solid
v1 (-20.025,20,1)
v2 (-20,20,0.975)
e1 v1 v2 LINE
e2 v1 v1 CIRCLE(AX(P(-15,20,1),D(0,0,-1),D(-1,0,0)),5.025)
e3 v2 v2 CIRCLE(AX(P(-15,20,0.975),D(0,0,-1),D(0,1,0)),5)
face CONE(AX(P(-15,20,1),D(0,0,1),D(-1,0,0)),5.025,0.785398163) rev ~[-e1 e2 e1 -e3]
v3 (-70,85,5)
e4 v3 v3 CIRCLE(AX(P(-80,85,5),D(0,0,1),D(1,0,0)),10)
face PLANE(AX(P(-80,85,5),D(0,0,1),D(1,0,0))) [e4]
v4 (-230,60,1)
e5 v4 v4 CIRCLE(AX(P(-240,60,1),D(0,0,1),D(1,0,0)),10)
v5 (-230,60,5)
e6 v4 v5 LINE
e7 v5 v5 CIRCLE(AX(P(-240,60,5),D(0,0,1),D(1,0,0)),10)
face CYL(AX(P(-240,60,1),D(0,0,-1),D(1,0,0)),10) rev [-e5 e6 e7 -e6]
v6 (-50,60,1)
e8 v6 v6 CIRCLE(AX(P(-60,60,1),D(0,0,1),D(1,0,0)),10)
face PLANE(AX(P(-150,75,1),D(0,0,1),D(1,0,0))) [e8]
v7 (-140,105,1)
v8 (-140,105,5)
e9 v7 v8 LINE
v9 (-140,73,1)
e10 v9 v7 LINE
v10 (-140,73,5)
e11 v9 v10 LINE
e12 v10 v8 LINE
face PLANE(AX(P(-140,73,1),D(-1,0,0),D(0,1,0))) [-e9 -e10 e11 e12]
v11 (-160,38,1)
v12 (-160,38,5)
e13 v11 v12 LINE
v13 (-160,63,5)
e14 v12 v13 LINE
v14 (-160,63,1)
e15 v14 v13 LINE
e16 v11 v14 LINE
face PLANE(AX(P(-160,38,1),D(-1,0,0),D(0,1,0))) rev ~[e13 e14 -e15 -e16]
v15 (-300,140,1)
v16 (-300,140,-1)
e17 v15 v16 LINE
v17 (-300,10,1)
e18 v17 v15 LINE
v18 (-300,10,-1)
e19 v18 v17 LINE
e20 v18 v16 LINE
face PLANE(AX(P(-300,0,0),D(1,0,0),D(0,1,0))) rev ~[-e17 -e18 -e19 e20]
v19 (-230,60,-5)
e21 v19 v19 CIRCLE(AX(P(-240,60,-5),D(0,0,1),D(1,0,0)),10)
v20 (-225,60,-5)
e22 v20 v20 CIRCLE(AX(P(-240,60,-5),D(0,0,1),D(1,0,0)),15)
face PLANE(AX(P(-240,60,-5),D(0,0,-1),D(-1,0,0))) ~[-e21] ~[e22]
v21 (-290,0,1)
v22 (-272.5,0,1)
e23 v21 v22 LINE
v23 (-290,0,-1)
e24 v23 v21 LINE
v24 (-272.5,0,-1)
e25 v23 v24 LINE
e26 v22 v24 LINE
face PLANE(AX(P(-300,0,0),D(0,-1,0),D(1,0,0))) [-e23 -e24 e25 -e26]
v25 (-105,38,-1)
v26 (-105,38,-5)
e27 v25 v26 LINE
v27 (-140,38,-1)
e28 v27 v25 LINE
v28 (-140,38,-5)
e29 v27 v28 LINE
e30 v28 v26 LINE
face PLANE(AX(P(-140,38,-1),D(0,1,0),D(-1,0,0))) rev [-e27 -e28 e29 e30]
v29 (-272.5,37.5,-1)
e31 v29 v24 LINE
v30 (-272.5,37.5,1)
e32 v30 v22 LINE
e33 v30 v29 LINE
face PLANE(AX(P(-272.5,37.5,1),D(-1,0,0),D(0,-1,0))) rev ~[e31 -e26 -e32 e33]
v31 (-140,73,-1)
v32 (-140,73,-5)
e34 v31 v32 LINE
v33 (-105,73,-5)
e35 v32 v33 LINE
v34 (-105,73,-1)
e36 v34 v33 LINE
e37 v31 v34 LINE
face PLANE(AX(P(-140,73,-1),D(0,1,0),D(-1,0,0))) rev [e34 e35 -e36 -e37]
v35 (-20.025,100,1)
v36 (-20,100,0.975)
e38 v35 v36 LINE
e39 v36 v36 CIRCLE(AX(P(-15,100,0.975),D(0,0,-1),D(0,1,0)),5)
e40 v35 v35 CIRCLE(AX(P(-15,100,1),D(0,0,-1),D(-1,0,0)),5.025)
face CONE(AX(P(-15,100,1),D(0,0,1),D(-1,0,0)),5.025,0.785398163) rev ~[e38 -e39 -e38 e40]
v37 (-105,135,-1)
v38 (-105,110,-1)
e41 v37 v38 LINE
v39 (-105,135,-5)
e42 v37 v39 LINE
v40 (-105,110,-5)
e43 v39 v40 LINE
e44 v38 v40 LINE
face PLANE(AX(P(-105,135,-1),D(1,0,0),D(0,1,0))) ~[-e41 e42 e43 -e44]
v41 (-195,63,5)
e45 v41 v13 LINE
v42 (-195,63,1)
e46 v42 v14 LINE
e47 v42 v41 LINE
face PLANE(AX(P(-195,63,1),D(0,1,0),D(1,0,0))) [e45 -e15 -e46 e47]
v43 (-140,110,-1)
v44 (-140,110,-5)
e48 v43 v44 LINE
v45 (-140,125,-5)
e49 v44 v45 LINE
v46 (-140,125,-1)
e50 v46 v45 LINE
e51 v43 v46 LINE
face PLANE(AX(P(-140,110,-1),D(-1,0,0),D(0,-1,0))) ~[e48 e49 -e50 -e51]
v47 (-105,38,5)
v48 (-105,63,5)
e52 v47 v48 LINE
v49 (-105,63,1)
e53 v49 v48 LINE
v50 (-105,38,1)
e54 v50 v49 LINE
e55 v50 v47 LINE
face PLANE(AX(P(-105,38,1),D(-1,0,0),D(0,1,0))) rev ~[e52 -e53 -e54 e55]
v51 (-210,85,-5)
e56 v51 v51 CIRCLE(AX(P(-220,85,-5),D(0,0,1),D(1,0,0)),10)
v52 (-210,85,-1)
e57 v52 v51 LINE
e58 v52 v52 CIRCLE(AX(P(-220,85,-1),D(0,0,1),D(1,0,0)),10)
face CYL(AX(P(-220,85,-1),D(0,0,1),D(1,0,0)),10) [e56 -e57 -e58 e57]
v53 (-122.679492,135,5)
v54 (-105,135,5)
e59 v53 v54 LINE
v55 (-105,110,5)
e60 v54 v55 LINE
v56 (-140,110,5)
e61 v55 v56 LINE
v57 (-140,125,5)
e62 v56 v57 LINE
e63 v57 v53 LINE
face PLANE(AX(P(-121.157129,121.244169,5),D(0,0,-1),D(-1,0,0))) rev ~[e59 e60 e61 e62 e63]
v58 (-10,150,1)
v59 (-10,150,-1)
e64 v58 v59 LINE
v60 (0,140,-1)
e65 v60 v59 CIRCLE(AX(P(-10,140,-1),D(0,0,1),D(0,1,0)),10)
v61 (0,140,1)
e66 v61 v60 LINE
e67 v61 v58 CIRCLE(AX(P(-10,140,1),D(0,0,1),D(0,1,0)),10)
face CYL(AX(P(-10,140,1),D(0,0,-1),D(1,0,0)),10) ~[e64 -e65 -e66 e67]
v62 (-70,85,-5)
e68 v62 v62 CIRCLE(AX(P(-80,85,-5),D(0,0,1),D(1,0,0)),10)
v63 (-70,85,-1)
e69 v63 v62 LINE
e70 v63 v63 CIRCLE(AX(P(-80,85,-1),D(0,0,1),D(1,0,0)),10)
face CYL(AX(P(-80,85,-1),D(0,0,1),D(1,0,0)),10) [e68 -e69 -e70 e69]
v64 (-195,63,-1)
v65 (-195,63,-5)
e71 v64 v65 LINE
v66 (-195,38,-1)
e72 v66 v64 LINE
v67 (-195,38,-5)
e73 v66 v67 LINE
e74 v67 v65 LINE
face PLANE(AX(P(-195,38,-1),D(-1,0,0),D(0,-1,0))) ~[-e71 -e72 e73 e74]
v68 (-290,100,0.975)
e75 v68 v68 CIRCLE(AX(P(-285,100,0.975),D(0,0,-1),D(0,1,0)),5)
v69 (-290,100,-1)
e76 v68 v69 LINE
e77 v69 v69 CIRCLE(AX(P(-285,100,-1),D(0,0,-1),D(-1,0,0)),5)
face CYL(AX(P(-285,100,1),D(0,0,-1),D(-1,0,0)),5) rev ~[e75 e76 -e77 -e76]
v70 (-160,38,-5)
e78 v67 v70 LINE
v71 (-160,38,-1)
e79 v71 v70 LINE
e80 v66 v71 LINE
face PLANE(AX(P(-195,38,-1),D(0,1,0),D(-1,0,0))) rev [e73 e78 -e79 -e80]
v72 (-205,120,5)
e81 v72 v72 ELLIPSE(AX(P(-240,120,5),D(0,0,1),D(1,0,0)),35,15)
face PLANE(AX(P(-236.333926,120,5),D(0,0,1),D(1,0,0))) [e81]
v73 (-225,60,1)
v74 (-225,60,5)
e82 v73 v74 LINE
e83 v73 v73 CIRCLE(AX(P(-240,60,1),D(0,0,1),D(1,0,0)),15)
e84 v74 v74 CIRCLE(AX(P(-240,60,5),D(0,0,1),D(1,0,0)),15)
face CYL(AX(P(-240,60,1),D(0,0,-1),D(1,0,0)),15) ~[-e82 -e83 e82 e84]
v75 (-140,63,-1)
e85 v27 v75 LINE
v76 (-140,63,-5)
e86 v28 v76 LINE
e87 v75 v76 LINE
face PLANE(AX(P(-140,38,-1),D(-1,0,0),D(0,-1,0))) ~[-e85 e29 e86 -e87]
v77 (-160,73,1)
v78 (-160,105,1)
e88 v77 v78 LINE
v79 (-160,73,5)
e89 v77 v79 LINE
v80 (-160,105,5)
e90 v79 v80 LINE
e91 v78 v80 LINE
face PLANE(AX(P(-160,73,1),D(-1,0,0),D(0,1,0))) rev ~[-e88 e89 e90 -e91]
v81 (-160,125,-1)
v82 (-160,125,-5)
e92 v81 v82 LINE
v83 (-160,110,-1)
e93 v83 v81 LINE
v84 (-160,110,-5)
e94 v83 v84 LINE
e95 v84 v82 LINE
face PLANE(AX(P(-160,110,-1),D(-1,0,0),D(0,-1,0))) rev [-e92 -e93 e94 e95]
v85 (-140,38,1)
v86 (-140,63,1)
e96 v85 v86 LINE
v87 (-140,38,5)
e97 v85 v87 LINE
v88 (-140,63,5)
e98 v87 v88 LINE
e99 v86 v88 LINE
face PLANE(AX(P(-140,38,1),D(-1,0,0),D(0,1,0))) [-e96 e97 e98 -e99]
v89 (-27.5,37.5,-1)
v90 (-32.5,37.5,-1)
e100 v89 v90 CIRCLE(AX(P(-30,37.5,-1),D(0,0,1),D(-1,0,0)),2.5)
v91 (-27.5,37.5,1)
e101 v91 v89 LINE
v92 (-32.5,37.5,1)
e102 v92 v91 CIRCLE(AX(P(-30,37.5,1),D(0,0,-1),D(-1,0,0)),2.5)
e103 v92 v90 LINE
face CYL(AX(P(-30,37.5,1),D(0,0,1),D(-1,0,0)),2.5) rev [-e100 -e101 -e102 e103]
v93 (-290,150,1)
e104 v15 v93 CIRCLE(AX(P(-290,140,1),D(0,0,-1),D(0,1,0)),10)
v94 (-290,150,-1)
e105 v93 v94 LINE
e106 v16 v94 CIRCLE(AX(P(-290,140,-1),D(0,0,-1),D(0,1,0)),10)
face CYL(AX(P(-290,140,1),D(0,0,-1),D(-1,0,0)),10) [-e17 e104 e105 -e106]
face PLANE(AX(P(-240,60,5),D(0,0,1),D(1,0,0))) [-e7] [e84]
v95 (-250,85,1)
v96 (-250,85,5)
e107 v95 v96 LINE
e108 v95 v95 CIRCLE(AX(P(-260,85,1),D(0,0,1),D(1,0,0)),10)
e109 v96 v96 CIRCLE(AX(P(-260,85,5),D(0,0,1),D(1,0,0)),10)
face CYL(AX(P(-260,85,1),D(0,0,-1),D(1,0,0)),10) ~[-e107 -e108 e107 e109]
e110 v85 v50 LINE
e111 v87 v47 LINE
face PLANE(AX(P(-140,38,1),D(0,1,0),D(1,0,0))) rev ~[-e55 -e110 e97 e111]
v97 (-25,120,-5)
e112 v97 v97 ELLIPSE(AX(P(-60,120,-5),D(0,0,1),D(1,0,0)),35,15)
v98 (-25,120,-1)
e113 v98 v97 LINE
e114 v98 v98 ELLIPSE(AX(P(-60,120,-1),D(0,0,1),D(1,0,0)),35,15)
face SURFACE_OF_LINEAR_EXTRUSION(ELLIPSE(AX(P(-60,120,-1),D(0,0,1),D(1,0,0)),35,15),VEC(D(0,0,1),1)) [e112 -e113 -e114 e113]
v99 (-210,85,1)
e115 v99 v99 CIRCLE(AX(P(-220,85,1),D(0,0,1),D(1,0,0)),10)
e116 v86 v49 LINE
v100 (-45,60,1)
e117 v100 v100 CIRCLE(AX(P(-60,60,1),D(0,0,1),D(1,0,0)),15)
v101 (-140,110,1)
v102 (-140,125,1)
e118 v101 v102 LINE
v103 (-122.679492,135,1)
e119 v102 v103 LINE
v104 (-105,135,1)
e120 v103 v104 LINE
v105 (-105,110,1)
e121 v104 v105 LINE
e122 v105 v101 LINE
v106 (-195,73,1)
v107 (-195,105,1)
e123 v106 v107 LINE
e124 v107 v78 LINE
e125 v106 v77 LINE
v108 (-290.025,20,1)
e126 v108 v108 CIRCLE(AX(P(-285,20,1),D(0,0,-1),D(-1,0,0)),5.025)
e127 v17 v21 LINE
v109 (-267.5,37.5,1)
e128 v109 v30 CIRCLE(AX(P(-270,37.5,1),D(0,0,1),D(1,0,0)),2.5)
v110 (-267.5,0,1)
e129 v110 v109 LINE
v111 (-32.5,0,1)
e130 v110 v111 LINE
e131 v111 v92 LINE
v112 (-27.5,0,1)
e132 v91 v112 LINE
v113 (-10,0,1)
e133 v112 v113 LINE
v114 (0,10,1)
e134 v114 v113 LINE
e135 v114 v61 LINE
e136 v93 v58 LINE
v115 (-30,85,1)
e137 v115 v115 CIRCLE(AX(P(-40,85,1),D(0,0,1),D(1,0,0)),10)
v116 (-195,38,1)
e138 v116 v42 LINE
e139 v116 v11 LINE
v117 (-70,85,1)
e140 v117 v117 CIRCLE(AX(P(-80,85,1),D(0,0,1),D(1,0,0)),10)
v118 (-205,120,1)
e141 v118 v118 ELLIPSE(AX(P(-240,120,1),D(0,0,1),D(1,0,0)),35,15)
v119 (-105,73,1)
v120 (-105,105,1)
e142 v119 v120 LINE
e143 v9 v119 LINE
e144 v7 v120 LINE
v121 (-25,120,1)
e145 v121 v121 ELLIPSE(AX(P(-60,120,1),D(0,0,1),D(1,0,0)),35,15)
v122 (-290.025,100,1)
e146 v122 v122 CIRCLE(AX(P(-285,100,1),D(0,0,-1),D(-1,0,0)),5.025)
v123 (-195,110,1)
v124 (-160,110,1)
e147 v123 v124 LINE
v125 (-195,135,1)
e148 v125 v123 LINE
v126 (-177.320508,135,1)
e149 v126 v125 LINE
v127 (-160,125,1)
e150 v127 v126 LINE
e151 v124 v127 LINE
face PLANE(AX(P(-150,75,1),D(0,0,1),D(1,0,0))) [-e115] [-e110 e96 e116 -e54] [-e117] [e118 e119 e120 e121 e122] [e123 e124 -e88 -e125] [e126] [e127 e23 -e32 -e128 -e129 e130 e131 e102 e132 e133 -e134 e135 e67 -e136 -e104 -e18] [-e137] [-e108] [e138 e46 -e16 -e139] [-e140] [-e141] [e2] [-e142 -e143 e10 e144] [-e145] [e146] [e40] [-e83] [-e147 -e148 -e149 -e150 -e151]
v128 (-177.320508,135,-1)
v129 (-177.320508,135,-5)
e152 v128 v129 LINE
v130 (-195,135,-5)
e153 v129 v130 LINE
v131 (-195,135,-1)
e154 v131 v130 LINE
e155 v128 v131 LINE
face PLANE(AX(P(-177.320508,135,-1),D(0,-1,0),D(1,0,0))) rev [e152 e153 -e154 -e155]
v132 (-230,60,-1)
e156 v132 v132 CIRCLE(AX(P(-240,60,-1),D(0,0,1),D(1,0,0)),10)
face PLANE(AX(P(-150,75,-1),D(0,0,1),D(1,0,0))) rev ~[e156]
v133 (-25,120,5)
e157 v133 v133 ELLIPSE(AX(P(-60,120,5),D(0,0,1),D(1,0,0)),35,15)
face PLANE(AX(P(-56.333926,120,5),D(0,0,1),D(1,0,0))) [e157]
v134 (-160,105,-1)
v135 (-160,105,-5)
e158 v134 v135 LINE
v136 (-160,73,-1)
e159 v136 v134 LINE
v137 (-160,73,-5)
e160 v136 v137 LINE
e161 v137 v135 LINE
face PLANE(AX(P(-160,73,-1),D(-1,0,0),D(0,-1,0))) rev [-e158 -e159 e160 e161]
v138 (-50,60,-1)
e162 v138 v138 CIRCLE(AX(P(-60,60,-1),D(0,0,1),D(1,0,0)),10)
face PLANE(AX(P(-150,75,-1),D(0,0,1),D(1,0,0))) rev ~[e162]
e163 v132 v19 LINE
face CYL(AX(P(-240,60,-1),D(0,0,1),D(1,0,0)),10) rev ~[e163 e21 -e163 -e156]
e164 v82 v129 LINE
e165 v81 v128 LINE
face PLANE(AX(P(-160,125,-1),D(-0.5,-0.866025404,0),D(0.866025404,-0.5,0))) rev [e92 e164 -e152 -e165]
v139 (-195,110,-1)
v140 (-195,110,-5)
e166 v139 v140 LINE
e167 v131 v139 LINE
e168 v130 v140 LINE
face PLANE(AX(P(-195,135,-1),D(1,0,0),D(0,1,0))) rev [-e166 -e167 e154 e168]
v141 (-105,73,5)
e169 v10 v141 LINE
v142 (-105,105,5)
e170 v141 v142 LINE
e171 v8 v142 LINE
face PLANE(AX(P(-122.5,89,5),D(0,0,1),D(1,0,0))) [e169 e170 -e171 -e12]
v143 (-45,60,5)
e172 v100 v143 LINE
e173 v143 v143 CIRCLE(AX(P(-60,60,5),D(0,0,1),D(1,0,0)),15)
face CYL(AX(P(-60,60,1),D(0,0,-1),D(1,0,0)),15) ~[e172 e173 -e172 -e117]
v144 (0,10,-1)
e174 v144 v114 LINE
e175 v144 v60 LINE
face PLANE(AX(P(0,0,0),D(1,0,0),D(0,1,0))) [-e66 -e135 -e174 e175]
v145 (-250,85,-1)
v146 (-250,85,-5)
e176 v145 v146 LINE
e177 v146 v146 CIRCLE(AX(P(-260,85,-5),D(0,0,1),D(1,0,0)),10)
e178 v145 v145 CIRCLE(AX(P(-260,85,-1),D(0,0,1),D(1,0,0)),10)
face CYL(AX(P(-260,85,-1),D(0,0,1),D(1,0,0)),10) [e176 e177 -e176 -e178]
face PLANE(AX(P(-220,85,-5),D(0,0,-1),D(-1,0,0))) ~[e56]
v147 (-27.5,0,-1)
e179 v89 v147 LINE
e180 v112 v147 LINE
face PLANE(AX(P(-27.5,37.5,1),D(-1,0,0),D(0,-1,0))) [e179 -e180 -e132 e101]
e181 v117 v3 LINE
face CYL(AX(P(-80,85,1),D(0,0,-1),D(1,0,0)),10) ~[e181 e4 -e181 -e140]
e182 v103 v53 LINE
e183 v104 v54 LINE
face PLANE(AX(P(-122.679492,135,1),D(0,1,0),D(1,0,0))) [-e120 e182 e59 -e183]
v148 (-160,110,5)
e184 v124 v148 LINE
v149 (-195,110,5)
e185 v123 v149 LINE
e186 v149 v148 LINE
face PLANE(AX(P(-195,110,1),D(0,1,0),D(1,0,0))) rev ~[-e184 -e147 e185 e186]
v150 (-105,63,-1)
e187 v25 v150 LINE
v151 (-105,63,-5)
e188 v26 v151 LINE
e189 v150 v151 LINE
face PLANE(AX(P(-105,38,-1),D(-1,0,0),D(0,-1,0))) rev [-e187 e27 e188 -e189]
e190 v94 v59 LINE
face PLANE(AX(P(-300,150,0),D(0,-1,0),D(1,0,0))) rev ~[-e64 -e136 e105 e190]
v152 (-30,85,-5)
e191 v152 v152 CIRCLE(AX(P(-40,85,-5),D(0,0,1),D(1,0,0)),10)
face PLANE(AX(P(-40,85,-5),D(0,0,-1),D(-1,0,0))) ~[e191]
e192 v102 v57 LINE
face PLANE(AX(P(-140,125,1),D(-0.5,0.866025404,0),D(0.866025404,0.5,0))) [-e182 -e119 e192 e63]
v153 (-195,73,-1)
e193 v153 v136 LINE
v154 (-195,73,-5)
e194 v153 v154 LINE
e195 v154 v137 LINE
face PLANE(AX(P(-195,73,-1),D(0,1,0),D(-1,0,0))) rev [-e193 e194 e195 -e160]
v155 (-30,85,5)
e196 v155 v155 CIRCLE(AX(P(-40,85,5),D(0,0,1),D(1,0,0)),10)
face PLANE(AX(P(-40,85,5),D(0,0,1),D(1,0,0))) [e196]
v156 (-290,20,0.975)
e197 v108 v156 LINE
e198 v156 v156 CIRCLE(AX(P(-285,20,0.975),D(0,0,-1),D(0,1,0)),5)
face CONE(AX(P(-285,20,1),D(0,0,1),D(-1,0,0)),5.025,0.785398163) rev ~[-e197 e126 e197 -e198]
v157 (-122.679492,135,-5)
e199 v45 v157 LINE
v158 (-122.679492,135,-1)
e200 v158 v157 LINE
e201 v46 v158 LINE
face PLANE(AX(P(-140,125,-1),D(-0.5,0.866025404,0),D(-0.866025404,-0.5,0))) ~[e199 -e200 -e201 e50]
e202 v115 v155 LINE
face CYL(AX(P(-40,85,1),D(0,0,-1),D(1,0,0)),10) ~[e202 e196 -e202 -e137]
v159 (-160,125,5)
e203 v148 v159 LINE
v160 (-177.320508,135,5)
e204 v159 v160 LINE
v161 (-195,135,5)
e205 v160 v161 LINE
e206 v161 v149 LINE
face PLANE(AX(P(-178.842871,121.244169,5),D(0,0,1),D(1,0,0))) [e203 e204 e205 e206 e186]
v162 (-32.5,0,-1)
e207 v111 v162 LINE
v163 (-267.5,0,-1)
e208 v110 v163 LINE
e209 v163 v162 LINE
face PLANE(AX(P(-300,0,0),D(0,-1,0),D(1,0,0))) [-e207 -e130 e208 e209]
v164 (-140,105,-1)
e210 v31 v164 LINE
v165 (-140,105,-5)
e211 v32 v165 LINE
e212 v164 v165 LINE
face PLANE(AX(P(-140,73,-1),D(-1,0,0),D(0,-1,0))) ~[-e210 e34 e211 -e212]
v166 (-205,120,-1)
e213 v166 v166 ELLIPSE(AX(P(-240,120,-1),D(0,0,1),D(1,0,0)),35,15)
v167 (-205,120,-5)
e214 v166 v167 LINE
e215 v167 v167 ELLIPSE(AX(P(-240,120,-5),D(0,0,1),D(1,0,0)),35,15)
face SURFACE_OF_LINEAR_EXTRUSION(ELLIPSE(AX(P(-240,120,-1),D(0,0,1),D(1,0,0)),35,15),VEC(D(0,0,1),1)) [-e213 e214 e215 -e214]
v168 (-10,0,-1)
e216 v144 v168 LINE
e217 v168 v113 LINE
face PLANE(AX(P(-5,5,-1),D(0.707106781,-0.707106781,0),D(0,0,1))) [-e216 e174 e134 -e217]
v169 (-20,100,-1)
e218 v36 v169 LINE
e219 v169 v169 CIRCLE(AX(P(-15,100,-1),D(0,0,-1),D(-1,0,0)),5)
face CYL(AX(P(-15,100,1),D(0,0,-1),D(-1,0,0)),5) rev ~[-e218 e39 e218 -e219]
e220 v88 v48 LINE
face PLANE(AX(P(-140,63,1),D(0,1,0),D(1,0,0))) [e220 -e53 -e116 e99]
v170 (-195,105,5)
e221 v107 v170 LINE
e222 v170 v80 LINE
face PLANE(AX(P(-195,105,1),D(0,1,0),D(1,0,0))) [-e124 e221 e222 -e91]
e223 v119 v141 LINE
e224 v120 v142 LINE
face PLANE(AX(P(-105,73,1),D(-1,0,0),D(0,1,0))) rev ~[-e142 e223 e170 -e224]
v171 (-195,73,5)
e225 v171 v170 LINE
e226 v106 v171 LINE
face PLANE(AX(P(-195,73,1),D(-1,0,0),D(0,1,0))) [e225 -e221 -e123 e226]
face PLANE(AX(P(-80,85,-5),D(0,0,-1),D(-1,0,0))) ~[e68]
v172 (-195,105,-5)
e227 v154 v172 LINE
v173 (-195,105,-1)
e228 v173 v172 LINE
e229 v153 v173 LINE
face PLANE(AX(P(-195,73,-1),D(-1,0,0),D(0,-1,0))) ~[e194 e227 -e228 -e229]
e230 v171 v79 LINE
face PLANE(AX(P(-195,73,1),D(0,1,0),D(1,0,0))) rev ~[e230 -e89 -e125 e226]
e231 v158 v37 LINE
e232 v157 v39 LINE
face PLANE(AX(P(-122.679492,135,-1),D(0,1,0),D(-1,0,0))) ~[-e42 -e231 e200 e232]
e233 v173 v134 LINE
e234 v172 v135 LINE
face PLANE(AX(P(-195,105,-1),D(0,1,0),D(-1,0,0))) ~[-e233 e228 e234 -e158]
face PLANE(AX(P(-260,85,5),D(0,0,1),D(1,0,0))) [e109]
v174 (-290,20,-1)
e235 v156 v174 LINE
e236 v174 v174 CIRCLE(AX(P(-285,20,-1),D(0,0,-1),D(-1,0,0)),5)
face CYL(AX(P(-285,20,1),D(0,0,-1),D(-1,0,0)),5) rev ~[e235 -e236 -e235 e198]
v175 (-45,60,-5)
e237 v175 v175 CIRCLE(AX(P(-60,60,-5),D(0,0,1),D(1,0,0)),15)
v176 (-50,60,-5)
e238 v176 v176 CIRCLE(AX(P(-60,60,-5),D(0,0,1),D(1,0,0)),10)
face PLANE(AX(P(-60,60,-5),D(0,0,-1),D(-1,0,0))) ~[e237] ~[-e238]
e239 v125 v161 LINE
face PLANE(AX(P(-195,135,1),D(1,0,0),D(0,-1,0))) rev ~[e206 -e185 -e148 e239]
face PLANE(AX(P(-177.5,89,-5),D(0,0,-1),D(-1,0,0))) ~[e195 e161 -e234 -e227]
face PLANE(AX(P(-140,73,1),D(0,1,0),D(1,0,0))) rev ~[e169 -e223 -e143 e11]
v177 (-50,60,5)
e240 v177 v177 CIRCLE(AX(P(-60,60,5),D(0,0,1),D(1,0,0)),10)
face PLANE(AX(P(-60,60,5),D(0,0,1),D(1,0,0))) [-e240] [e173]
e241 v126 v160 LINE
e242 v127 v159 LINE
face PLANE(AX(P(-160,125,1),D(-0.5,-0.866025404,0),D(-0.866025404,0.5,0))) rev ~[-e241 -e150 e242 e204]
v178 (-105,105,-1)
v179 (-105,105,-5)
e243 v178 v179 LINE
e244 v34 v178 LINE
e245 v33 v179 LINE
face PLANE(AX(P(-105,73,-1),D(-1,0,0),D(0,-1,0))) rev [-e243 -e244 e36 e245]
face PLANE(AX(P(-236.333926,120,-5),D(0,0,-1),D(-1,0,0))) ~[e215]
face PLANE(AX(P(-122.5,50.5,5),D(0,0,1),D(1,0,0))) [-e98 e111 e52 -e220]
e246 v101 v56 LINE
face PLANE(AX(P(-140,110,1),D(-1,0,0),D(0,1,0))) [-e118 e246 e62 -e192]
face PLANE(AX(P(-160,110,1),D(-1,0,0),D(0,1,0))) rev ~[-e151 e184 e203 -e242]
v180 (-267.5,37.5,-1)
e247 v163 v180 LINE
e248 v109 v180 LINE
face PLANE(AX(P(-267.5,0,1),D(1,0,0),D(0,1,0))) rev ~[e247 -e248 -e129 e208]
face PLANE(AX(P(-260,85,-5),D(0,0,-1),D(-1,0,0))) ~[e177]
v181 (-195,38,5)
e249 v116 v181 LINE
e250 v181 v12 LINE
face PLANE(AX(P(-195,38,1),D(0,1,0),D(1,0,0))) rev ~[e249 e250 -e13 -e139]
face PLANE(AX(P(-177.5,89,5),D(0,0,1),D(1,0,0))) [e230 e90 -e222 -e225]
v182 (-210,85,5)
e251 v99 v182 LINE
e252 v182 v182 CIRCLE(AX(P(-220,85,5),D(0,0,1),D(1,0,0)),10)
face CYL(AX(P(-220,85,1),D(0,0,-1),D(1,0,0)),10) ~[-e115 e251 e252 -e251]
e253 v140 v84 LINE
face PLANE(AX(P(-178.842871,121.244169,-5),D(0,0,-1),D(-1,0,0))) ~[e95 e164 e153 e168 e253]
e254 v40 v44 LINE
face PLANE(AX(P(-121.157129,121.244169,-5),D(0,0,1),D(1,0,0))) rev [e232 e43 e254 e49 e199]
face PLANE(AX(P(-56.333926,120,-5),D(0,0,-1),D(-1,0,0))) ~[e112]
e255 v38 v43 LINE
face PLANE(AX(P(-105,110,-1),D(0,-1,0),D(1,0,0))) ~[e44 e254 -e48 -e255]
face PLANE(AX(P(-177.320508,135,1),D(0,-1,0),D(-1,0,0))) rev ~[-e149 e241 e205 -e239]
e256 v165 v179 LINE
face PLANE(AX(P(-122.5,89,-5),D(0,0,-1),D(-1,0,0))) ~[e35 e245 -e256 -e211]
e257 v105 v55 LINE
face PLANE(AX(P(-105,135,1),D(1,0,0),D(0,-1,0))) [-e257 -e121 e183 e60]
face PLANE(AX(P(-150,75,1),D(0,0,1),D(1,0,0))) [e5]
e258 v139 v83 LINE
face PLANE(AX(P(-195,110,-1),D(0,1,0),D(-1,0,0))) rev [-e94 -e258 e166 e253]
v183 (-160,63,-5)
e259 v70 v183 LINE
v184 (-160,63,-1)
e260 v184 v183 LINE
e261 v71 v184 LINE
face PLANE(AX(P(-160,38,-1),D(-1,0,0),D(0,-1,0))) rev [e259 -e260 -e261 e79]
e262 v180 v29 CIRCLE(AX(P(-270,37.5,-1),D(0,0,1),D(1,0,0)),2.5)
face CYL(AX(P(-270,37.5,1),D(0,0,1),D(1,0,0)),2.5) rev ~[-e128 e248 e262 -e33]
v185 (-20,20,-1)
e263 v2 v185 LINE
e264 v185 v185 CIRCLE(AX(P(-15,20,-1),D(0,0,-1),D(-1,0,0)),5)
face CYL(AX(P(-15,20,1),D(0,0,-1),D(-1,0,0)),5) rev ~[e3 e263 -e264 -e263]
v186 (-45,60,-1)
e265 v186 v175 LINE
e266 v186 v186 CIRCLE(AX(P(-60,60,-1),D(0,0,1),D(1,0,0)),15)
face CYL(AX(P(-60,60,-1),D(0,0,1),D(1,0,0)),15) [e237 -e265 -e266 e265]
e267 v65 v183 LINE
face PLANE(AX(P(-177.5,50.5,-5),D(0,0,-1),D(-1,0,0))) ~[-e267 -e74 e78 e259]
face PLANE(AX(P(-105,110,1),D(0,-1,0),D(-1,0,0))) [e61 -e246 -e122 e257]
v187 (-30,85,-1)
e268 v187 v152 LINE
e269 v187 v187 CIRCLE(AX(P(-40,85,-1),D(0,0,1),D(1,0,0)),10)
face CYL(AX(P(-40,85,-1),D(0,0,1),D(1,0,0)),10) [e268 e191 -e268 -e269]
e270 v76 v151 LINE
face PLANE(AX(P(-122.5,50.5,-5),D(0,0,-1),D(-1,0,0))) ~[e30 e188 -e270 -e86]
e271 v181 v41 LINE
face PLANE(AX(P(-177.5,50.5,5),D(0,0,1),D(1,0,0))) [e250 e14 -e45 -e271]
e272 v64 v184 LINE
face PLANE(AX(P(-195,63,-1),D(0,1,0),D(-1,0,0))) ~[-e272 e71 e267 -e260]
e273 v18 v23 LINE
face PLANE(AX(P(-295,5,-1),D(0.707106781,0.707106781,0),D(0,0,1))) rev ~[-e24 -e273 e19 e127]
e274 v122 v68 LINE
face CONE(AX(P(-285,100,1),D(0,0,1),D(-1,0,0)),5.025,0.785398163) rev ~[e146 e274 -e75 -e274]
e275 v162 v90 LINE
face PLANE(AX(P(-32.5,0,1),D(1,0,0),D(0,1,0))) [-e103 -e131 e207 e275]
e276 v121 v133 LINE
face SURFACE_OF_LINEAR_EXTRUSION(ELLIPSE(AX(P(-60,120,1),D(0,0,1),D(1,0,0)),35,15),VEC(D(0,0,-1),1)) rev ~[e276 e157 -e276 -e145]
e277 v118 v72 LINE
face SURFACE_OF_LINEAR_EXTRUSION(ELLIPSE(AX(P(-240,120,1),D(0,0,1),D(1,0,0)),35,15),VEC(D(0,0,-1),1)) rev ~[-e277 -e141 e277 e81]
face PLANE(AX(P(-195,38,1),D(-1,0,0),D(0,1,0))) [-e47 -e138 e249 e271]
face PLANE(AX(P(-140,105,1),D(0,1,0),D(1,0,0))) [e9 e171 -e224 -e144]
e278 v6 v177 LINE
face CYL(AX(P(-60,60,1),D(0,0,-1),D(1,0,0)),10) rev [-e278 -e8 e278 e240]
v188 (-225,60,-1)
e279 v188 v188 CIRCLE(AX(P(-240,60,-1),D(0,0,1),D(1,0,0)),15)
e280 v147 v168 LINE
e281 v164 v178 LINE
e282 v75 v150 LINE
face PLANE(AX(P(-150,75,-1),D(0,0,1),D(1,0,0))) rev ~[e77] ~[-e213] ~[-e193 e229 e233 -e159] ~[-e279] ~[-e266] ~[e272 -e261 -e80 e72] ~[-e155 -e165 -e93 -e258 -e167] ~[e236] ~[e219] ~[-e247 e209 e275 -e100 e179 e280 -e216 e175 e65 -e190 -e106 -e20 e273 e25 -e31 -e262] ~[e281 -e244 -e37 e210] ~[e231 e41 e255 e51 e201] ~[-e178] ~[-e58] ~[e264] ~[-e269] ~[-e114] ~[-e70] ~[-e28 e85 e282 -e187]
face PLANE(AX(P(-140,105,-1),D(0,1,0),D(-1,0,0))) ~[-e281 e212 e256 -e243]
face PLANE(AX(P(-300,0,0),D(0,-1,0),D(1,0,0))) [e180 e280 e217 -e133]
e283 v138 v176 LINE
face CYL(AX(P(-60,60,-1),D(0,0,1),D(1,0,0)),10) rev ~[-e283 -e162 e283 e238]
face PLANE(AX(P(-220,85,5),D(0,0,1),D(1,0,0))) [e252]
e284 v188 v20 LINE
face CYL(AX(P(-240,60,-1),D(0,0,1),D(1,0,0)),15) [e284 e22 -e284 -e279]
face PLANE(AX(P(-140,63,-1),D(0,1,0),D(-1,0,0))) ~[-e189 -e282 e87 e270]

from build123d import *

# Parameters (mm, degrees)
SKETCH1_W                        = 300
SKETCH1_H                        = 150
PCB_BASE_DEPTH                   = 1
SKETCH2_R                        = 10
SKETCH2_R_2                      = 15
SKETCH2_RX                       = 35
SKETCH2_RY                       = 15
SKETCH2_W                        = 35
SKETCH2_H                        = 25
SKETCH2_H_2                      = 32
PCB_CHIPS_DEPTH                  = 4
SLOT_CUT_DEPTH                   = 10
F_10_0MM_DOWEL_HOLE1_D           = 10
F_10_0MM_DOWEL_HOLE1_DEPTH       = 10
F_10_0MM_DOWEL_HOLE1_CSINK_D     = 10.05
F_10_0MM_DOWEL_HOLE1_CSINK_ANGLE = 90
F_10_0MM_DOWEL_HOLE1_TIP         = 3.004303095
FILLET1_R                        = 10
CHAMFER1_SIZE                    = 10


with BuildPart() as part:
    # Sketch1 → PCB Base (new body, symmetric)
    with BuildSketch(Plane.XY):
        with Locations((-150, 75)):
            Rectangle(SKETCH1_W, SKETCH1_H)
    extrude(amount=PCB_BASE_DEPTH, both=True)

    # Sketch2 → PCB Chips (add)
    with BuildSketch(Plane.XY.offset(1)):
        with Locations((-260, 85)):
            Circle(SKETCH2_R)
        with Locations((-220, 85)):
            Circle(SKETCH2_R)
        with Locations((-240, 60)):
            Circle(SKETCH2_R_2)
        with Locations((-240, 60)):
            Circle(SKETCH2_R, mode=Mode.SUBTRACT)
        with Locations((-60, 60)):
            Circle(SKETCH2_R_2)
        with Locations((-60, 60)):
            Circle(SKETCH2_R, mode=Mode.SUBTRACT)
        with Locations((-80, 85)):
            Circle(SKETCH2_R)
        with Locations((-40, 85)):
            Circle(SKETCH2_R)
        with Locations((-240, 120)):
            Ellipse(SKETCH2_RX, SKETCH2_RY)
        with Locations((-60, 120)):
            Ellipse(SKETCH2_RX, SKETCH2_RY)
        with Locations((-177.5, 50.5)):
            Rectangle(SKETCH2_W, SKETCH2_H)
        with Locations((-177.5, 89)):
            Rectangle(SKETCH2_W, SKETCH2_H_2)
        Polygon((-195, 110), (-160, 110), (-160, 125), (-177.320508076, 135), (-195, 135), align=None)
        Polygon((-140, 125), (-122.679491924, 135), (-105, 135), (-105, 110), (-140, 110), align=None)
        with Locations((-122.5, 89)):
            Rectangle(SKETCH2_W, SKETCH2_H_2)
        with Locations((-122.5, 50.5)):
            Rectangle(SKETCH2_W, SKETCH2_H)
    pcb_chips = extrude(amount=PCB_CHIPS_DEPTH)

    # Mirror Chips: PCB Chips across plane
    add(pcb_chips.mirror(Plane.XY))

    # Sketch3 → Slot Cut (cut)
    with BuildSketch(Plane.XY.offset(1)):
        with BuildLine():
            Line((-272.5, 37.5), (-272.5, 0))
            Line((-272.5, 0), (-267.5, 0))
            Line((-267.5, 0), (-267.5, 37.5))
            ThreePointArc((-267.5, 37.5), (-270, 40), (-272.5, 37.5))
        make_face()
        with BuildLine():
            Line((-32.5, 0), (-32.5, 37.5))
            ThreePointArc((-32.5, 37.5), (-30, 40), (-27.5, 37.5))
            Line((-27.5, 37.5), (-27.5, 0))
            ThreePointArc((-27.5, 0), (-30, -2.5), (-32.5, 0))
        make_face()
    extrude(amount=-SLOT_CUT_DEPTH, mode=Mode.SUBTRACT)

    # Ø10.0mm Dowel Hole1
    with Locations(Plane.XY.offset(1)):
        with Locations((-285, 100), (-285, 20), (-15, 20), (-15, 100)):
            CounterSinkHole(F_10_0MM_DOWEL_HOLE1_D / 2, F_10_0MM_DOWEL_HOLE1_CSINK_D / 2, depth=F_10_0MM_DOWEL_HOLE1_DEPTH, counter_sink_angle=F_10_0MM_DOWEL_HOLE1_CSINK_ANGLE)
            with Locations((0, 0, -(F_10_0MM_DOWEL_HOLE1_DEPTH + F_10_0MM_DOWEL_HOLE1_TIP / 2))):  # 118° drill point
                Cone(0, F_10_0MM_DOWEL_HOLE1_D / 2, F_10_0MM_DOWEL_HOLE1_TIP, mode=Mode.SUBTRACT)

    # Fillet1
    fillet1_edges = [part.edges().sort_by_distance(p)[0] for p in [
        (0, 150, 0),
        (-300, 150, 0),
    ]]
    fillet(fillet1_edges, radius=FILLET1_R)

    # Chamfer1
    chamfer1_edges = [part.edges().sort_by_distance(p)[0] for p in [
        (0, 0, 0),
        (-300, 0, 0),
    ]]
    chamfer(chamfer1_edges, length=CHAMFER1_SIZE)


solid = part.part
